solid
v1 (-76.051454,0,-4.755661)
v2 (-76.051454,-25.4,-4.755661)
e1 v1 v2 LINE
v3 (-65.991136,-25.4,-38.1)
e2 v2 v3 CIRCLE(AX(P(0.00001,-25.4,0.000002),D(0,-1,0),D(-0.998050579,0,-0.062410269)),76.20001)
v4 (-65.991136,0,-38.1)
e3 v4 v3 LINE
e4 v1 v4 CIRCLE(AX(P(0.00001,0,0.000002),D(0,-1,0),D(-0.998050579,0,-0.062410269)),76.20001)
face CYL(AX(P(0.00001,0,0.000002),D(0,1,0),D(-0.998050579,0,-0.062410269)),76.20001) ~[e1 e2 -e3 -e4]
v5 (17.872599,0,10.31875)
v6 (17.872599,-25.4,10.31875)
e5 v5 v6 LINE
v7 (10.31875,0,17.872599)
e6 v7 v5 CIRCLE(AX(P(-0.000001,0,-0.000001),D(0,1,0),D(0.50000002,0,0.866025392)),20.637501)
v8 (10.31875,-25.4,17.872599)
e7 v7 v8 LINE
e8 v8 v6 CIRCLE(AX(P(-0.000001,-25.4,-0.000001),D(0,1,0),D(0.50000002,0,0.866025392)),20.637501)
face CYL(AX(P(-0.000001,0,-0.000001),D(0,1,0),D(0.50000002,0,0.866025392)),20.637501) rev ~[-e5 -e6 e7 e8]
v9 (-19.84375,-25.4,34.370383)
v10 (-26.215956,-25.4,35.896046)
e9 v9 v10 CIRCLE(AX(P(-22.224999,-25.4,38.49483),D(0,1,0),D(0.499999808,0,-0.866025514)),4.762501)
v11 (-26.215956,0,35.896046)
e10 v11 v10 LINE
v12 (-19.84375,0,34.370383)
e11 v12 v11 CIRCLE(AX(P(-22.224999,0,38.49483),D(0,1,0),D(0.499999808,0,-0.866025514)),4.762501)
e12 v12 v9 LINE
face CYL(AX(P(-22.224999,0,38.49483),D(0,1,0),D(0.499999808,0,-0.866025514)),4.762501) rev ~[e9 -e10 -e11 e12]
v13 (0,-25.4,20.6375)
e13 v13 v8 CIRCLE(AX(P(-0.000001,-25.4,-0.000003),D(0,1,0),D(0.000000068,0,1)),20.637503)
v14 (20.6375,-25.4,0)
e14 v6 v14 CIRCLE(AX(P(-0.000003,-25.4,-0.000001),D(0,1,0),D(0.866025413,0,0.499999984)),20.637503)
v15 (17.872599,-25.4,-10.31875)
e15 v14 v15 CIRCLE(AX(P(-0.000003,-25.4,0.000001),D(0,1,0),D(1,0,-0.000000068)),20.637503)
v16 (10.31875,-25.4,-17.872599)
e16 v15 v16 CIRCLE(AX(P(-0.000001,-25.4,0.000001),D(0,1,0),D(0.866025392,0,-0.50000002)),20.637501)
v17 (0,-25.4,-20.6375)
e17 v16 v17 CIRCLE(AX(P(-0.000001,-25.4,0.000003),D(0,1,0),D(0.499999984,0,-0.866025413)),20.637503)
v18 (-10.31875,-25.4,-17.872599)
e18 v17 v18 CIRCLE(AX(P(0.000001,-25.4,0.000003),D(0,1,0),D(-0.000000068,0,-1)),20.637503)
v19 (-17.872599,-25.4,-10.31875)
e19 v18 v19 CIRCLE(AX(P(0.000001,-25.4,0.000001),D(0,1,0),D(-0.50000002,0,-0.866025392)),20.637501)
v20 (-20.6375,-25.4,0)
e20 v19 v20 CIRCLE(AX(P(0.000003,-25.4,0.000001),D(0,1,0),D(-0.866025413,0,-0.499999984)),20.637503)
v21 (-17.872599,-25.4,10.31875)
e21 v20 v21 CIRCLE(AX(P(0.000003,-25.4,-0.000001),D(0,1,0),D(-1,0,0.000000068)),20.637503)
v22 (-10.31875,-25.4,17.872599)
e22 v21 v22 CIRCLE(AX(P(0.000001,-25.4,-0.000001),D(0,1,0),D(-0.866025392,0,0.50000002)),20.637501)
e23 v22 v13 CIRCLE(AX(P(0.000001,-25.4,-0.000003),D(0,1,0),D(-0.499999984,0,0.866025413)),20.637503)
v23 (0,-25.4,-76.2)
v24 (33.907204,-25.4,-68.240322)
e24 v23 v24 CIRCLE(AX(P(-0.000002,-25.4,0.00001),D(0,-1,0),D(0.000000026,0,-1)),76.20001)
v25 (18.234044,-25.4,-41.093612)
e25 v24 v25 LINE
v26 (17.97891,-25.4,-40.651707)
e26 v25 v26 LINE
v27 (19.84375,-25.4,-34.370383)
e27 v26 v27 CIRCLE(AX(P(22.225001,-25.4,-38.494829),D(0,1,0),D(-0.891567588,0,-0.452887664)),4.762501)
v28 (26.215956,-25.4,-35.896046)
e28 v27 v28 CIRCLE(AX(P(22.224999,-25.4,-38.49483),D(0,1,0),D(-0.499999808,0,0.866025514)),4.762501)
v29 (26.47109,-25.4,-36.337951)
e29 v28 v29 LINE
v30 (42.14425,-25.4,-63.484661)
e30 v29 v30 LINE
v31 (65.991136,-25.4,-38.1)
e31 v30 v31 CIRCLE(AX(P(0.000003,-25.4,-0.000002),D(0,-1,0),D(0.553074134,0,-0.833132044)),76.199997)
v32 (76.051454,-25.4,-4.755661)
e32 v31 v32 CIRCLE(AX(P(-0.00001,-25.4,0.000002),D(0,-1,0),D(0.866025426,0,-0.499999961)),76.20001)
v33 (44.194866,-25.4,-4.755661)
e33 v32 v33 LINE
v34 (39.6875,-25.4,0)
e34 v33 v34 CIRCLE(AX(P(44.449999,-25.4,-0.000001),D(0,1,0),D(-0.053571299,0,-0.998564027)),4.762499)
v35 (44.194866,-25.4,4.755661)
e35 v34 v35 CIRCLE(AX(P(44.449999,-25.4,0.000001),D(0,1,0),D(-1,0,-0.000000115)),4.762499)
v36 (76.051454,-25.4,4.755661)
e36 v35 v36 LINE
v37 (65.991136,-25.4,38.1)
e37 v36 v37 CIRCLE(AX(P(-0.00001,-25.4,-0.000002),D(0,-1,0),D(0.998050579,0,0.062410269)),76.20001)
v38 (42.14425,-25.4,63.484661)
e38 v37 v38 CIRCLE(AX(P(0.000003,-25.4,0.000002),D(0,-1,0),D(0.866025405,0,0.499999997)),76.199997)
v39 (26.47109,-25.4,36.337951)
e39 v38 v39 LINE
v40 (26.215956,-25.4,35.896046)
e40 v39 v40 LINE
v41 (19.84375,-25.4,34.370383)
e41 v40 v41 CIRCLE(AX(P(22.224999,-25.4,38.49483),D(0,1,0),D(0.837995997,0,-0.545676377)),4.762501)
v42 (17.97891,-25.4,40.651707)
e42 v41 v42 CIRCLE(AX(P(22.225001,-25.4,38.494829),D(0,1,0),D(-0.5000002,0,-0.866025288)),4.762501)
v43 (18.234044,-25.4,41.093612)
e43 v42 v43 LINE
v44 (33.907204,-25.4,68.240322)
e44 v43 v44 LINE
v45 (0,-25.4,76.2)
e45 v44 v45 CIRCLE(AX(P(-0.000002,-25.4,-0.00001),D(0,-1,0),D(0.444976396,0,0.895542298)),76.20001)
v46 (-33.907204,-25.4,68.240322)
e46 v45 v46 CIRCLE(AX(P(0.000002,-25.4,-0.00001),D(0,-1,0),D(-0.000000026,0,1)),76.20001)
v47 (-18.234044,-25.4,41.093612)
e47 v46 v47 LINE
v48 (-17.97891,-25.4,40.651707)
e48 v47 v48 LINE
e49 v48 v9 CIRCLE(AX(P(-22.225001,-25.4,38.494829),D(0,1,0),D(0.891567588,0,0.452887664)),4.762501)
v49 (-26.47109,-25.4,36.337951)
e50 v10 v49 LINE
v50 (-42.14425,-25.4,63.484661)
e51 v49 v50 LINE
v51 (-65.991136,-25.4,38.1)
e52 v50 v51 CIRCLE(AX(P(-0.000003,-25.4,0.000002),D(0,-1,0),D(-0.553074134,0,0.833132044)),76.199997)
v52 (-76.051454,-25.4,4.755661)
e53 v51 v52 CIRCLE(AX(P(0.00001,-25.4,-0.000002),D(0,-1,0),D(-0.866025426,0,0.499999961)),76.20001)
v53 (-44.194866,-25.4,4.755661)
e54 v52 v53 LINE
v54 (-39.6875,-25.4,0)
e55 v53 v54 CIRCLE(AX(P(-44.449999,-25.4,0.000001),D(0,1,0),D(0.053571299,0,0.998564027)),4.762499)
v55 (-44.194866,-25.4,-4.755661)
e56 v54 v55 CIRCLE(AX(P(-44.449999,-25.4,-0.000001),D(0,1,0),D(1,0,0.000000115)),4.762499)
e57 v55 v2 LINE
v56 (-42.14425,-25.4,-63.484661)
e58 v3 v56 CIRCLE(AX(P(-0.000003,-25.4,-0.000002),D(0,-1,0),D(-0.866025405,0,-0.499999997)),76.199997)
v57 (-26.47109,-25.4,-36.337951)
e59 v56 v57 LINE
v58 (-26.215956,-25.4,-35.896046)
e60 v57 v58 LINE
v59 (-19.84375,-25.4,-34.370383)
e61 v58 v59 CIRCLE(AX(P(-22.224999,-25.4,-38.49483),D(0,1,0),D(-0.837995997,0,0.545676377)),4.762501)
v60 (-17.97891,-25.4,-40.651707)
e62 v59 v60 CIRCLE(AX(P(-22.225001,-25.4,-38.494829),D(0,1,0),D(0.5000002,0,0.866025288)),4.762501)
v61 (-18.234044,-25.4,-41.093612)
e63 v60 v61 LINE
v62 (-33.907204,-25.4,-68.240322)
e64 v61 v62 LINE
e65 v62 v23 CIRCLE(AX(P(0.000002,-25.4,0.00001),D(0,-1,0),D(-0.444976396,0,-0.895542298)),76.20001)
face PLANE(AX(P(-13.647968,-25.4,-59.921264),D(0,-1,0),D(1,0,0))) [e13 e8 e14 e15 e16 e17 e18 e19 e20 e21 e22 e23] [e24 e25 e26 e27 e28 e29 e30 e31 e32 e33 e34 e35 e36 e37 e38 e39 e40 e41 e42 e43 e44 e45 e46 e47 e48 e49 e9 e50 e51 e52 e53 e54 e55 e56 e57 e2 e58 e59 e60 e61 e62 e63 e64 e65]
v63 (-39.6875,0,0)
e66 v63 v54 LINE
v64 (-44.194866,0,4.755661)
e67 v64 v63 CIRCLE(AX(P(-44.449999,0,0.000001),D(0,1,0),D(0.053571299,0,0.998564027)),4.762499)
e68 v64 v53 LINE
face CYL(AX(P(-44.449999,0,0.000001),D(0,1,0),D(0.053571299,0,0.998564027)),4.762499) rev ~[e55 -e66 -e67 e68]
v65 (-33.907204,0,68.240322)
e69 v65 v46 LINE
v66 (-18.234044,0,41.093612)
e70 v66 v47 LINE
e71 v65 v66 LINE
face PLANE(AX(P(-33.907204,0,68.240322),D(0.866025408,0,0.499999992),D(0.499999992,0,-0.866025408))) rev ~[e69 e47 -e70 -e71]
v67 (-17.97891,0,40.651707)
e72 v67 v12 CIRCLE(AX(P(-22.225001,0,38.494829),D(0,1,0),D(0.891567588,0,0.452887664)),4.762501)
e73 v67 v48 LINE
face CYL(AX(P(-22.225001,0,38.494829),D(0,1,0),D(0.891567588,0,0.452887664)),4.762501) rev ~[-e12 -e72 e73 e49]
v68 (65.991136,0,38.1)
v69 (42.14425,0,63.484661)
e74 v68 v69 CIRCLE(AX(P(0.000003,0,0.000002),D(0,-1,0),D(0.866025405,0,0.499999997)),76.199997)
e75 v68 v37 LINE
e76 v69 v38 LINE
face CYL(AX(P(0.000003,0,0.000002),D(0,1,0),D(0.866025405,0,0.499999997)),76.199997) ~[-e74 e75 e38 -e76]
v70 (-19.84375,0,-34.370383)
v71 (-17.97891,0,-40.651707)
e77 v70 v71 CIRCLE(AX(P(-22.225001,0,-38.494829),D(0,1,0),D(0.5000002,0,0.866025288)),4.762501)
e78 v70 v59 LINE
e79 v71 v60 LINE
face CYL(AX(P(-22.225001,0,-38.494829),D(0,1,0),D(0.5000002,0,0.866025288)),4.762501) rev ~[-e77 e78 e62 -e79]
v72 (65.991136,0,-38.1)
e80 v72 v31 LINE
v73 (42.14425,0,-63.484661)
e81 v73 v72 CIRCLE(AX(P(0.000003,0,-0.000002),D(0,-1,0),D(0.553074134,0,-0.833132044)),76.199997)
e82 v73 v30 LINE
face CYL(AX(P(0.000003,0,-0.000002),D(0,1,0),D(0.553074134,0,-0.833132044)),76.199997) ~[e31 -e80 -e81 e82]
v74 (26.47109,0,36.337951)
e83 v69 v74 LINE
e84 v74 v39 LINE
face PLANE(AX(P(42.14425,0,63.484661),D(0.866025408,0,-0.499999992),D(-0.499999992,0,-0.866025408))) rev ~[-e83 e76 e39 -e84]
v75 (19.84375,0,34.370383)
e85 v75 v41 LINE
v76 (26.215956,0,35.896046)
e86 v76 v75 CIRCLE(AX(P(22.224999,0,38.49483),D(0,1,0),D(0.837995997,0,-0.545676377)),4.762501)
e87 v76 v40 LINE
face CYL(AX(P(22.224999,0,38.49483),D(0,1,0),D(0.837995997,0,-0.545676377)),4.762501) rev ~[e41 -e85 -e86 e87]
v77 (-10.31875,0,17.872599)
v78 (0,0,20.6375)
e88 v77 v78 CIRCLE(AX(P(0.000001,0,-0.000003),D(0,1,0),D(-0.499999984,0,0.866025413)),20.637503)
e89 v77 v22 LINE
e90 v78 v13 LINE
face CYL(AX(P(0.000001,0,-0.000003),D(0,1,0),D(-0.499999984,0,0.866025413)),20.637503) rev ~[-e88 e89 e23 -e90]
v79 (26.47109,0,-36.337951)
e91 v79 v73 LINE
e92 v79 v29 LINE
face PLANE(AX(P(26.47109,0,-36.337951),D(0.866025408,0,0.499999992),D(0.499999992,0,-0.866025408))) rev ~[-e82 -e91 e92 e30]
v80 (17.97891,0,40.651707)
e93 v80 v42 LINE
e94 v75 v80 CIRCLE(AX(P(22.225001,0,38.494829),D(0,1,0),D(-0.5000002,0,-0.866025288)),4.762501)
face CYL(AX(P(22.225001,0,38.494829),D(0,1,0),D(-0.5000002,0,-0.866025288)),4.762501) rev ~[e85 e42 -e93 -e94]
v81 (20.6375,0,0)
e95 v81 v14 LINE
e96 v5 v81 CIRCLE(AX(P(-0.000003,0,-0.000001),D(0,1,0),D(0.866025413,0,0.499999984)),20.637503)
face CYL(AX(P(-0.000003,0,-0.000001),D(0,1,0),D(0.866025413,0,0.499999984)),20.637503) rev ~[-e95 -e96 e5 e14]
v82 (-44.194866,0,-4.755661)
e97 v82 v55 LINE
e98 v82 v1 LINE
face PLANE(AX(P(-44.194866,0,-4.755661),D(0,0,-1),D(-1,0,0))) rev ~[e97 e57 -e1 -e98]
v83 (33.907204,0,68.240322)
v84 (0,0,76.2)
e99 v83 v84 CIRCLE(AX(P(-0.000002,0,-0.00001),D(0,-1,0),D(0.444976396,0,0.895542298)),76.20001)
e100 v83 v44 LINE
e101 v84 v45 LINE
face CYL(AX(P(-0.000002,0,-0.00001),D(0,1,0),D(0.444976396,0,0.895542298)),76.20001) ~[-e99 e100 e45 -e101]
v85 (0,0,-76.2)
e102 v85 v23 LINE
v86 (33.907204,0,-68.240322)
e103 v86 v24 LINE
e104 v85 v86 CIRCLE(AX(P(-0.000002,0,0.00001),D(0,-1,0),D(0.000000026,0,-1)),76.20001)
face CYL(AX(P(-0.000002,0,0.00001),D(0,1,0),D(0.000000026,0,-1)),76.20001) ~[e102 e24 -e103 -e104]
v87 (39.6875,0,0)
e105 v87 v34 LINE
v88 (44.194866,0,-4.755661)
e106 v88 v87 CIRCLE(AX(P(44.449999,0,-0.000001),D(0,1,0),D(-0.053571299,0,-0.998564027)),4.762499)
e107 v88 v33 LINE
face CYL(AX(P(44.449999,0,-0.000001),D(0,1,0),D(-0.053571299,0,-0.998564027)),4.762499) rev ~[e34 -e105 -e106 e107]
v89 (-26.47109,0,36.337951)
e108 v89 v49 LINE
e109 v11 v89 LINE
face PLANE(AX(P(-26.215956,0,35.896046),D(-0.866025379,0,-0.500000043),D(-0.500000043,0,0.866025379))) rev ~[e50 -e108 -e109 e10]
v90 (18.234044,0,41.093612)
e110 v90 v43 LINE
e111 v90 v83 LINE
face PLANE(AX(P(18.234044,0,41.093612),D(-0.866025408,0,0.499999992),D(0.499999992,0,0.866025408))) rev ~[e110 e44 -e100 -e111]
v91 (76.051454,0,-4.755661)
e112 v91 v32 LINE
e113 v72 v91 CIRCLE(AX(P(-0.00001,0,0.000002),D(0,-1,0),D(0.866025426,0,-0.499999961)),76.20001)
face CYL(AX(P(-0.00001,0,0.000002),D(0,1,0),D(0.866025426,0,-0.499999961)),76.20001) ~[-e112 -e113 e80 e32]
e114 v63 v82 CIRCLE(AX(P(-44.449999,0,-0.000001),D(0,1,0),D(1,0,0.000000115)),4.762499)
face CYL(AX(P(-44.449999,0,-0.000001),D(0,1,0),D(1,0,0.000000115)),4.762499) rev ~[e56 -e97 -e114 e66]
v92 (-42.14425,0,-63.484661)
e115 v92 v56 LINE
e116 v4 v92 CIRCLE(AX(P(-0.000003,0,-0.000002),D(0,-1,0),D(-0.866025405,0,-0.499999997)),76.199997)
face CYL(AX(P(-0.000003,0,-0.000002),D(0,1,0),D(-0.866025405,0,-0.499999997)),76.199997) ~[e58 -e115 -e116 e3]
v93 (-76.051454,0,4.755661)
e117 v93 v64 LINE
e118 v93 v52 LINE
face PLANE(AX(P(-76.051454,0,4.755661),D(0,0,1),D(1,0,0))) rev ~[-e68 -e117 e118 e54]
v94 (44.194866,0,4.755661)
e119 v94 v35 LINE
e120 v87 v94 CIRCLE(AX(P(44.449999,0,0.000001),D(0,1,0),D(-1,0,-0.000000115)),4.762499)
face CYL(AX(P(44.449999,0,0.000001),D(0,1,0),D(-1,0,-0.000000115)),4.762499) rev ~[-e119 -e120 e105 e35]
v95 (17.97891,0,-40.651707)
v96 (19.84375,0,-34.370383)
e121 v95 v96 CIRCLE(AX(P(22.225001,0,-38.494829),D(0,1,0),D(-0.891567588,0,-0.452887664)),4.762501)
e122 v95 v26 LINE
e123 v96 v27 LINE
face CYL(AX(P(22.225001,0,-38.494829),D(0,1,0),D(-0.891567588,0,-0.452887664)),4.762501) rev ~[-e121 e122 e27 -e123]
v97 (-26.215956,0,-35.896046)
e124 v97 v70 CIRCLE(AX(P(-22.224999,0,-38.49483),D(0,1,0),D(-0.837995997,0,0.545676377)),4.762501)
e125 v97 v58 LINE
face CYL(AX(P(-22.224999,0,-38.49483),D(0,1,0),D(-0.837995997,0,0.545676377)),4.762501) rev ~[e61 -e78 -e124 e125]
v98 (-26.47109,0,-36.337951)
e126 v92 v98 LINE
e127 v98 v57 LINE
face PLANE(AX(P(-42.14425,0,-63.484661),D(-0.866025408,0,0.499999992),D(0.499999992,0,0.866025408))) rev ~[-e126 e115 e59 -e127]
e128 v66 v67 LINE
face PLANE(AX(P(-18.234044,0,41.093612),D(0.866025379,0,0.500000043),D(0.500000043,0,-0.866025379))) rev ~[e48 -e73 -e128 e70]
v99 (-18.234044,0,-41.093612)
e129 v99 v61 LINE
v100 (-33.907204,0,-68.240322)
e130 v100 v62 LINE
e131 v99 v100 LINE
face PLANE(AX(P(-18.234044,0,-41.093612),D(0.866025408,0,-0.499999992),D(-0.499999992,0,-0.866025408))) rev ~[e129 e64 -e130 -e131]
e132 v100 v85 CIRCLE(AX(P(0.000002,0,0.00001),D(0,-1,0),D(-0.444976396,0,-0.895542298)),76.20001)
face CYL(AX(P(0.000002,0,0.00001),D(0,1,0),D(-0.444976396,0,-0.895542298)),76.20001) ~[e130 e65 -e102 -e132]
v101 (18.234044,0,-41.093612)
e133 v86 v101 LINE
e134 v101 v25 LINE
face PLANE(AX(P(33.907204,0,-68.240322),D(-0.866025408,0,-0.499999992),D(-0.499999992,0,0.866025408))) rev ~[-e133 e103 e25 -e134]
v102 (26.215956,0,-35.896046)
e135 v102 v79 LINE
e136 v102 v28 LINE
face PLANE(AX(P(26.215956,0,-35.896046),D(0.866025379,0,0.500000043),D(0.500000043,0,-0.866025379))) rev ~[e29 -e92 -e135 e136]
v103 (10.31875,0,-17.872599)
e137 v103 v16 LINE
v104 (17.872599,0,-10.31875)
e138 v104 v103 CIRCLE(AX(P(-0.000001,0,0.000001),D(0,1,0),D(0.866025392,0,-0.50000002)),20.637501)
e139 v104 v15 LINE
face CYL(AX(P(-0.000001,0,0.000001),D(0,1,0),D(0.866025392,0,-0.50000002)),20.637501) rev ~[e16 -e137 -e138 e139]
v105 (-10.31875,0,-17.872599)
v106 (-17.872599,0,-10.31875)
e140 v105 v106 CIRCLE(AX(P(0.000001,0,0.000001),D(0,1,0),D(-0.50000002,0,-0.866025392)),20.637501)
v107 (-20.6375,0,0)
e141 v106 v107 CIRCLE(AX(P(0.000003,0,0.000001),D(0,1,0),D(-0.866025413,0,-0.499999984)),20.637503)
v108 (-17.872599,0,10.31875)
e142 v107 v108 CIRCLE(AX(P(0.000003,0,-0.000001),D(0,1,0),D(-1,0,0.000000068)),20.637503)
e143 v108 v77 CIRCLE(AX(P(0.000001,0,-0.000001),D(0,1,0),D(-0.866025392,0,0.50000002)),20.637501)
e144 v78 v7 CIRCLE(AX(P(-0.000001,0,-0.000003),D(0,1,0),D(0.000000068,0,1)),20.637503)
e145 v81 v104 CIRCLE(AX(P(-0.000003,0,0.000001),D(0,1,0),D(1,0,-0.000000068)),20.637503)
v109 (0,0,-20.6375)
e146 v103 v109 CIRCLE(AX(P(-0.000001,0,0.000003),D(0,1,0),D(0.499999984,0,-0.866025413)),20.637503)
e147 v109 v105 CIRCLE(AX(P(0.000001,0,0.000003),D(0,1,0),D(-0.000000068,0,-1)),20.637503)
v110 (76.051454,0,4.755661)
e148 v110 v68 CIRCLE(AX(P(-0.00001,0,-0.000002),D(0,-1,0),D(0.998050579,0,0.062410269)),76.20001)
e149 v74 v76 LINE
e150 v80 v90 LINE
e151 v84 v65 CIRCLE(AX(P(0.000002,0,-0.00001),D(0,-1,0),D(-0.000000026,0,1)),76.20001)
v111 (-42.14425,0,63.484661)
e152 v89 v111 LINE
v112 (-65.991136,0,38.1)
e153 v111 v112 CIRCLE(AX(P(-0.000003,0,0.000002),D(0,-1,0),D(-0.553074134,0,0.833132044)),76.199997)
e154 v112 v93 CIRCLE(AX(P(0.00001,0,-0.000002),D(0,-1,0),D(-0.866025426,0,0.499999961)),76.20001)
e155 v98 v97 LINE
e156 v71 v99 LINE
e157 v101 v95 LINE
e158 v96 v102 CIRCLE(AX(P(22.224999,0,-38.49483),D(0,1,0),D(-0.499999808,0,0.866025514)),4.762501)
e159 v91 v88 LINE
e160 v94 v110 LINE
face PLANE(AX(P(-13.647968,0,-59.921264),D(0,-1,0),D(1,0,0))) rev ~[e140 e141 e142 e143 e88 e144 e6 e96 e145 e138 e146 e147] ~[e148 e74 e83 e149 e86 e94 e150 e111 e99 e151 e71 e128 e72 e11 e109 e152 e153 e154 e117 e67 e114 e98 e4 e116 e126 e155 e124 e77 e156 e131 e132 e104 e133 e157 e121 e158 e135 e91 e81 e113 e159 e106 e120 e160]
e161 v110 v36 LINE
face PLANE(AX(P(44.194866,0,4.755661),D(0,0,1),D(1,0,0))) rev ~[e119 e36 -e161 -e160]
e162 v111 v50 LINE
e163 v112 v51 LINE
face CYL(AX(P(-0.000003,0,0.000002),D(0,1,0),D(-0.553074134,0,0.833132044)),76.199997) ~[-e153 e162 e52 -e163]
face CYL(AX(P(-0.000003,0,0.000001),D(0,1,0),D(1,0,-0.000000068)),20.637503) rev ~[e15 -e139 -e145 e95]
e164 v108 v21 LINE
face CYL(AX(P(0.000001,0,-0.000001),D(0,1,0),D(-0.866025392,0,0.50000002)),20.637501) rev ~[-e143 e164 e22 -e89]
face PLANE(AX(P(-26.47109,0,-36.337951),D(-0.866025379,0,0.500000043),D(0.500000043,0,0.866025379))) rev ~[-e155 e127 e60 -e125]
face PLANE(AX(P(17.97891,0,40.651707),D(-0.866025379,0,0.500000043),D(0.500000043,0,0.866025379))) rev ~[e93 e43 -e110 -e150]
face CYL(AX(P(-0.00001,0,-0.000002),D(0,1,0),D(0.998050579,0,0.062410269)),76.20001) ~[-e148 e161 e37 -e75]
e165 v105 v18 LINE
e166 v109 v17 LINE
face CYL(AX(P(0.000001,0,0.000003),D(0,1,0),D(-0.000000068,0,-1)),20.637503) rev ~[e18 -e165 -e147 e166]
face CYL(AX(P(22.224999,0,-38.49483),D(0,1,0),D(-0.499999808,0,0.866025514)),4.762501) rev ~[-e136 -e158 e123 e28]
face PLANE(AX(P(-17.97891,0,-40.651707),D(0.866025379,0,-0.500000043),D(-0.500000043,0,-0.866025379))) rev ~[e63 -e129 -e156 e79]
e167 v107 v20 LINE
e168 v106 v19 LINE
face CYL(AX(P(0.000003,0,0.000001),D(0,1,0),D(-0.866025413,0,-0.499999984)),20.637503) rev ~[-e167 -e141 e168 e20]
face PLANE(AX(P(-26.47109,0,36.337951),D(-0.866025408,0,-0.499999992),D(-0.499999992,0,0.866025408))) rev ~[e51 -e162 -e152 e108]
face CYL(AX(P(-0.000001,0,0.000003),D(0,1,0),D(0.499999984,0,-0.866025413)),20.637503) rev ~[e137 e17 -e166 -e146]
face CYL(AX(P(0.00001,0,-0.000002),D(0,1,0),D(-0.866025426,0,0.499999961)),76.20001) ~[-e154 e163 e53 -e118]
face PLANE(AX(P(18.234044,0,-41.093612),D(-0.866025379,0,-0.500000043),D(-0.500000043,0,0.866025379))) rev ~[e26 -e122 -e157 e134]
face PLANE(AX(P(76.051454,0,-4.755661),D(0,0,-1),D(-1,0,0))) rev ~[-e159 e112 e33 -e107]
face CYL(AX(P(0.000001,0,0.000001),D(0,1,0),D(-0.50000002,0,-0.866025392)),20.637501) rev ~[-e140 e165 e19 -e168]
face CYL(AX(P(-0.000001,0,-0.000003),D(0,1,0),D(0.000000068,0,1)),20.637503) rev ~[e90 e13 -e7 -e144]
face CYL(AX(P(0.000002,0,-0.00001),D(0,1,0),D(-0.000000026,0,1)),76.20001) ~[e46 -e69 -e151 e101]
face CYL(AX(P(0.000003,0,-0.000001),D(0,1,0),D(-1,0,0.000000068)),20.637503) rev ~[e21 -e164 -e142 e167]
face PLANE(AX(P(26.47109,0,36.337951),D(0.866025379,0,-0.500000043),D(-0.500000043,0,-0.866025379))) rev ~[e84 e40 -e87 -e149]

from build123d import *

# Parameters (mm, degrees)
F1_DEPTH = 25.4


with BuildPart() as f1:
    # F0 (on Front) → F1 (new body)
    with BuildSketch(Plane.XZ):
        with BuildLine():
            Line((-18.234044, -41.093612), (-33.907204, -68.240322))
            ThreePointArc((-33.907204, -68.240322), (-17.414469, -74.183396), (0, -76.2))
            Line((0, -76.2), (0, -44.45))
            ThreePointArc((0, -44.45), (-9.187875, -43.490061), (-17.97891, -40.651707))
            ThreePointArc((-17.97891, -40.651707), (-18.100554, -40.876079), (-18.234044, -41.093612))
        make_face()
        with BuildLine():
            Line((0, -44.45), (0, -76.2))
            ThreePointArc((0, -76.2), (17.414469, -74.183396), (33.907204, -68.240322))
            Line((33.907204, -68.240322), (18.234044, -41.093612))
            ThreePointArc((18.234044, -41.093612), (18.100554, -40.876079), (17.97891, -40.651707))
            ThreePointArc((17.97891, -40.651707), (9.187875, -43.490061), (0, -44.45))
        make_face()
        with BuildLine():
            Line((-17.97891, -40.651707), (-18.234044, -41.093612))
            ThreePointArc((-18.234044, -41.093612), (-18.100554, -40.876079), (-17.97891, -40.651707))
        make_face()
        with BuildLine():
            Line((0, -20.6375), (0, -44.45))
            ThreePointArc((0, -44.45), (9.187875, -43.490061), (17.97891, -40.651707))
            ThreePointArc((17.97891, -40.651707), (17.659459, -37.139382), (19.84375, -34.370383))
            Line((19.84375, -34.370383), (10.31875, -17.872599))
            ThreePointArc((10.31875, -17.872599), (5.341378, -19.934294), (0, -20.6375))
        make_face()
        with BuildLine():
            ThreePointArc((-17.97891, -40.651707), (-9.187875, -43.490061), (0, -44.45))
            Line((0, -44.45), (0, -20.6375))
            ThreePointArc((0, -20.6375), (-5.341378, -19.934294), (-10.31875, -17.872599))
            Line((-10.31875, -17.872599), (-19.84375, -34.370383))
            ThreePointArc((-19.84375, -34.370383), (-17.659459, -37.139382), (-17.97891, -40.651707))
        make_face()
        with BuildLine():
            ThreePointArc((17.97891, -40.651707), (18.100554, -40.876079), (18.234044, -41.093612))
            Line((18.234044, -41.093612), (17.97891, -40.651707))
        make_face()
        with BuildLine():
            ThreePointArc((-26.215956, -35.896046), (-23.333919, -33.863231), (-19.84375, -34.370383))
            Line((-19.84375, -34.370383), (-10.31875, -17.872599))
            ThreePointArc((-10.31875, -17.872599), (-14.592916, -14.592916), (-17.872599, -10.31875))
            Line((-17.872599, -10.31875), (-38.494829, -22.225))
            ThreePointArc((-38.494829, -22.225), (-33.06956, -29.701964), (-26.215956, -35.896046))
        make_face()
        with BuildLine():
            Line((10.31875, -17.872599), (19.84375, -34.370383))
            ThreePointArc((19.84375, -34.370383), (23.333919, -33.863231), (26.215956, -35.896046))
            ThreePointArc((26.215956, -35.896046), (33.06956, -29.701964), (38.494829, -22.225))
            Line((38.494829, -22.225), (17.872599, -10.31875))
            ThreePointArc((17.872599, -10.31875), (14.592916, -14.592916), (10.31875, -17.872599))
        make_face()
        with BuildLine():
            Line((-26.47109, -36.337951), (-26.215956, -35.896046))
            ThreePointArc((-26.215956, -35.896046), (-26.349446, -36.113579), (-26.47109, -36.337951))
        make_face()
        with BuildLine():
            ThreePointArc((-26.47109, -36.337951), (-26.349446, -36.113579), (-26.215956, -35.896046))
            ThreePointArc((-26.215956, -35.896046), (-33.06956, -29.701964), (-38.494829, -22.225))
            Line((-38.494829, -22.225), (-65.991136, -38.1))
            ThreePointArc((-65.991136, -38.1), (-55.537471, -52.173071), (-42.14425, -63.484661))
            Line((-42.14425, -63.484661), (-26.47109, -36.337951))
        make_face()
        with BuildLine():
            ThreePointArc((38.494829, -22.225), (33.06956, -29.701964), (26.215956, -35.896046))
            ThreePointArc((26.215956, -35.896046), (26.349446, -36.113579), (26.47109, -36.337951))
            Line((26.47109, -36.337951), (42.14425, -63.484661))
            ThreePointArc((42.14425, -63.484661), (55.537471, -52.173071), (65.991136, -38.1))
            Line((65.991136, -38.1), (38.494829, -22.225))
        make_face()
        with BuildLine():
            ThreePointArc((26.47109, -36.337951), (26.349446, -36.113579), (26.215956, -35.896046))
            Line((26.215956, -35.896046), (26.47109, -36.337951))
        make_face()
        with BuildLine():
            Line((-38.494829, -22.225), (-17.872599, -10.31875))
            ThreePointArc((-17.872599, -10.31875), (-19.934294, -5.341378), (-20.6375, 0))
            Line((-20.6375, 0), (-39.6875, 0))
            ThreePointArc((-39.6875, 0), (-40.993377, -3.276151), (-44.194866, -4.755661))
            ThreePointArc((-44.194866, -4.755661), (-42.257436, -13.788097), (-38.494829, -22.225))
        make_face()
        with BuildLine():
            ThreePointArc((20.6375, 0), (19.934294, -5.341378), (17.872599, -10.31875))
            Line((17.872599, -10.31875), (38.494829, -22.225))
            ThreePointArc((38.494829, -22.225), (42.257436, -13.788097), (44.194866, -4.755661))
            ThreePointArc((44.194866, -4.755661), (40.993377, -3.276151), (39.6875, 0))
            Line((39.6875, 0), (20.6375, 0))
        make_face()
        with BuildLine():
            Line((0, 44.45), (0, 20.6375))
            ThreePointArc((0, 20.6375), (5.341378, 19.934294), (10.31875, 17.872599))
            Line((10.31875, 17.872599), (19.84375, 34.370383))
            ThreePointArc((19.84375, 34.370383), (17.659459, 37.139382), (17.97891, 40.651707))
            ThreePointArc((17.97891, 40.651707), (9.187875, 43.490061), (0, 44.45))
        make_face()
        with BuildLine():
            ThreePointArc((-10.31875, 17.872599), (-5.341378, 19.934294), (0, 20.6375))
            Line((0, 20.6375), (0, 44.45))
            ThreePointArc((0, 44.45), (-9.187875, 43.490061), (-17.97891, 40.651707))
            ThreePointArc((-17.97891, 40.651707), (-17.659459, 37.139382), (-19.84375, 34.370383))
            Line((-19.84375, 34.370383), (-10.31875, 17.872599))
        make_face()
        with BuildLine():
            ThreePointArc((17.872599, 10.31875), (19.934294, 5.341378), (20.6375, 0))
            Line((20.6375, 0), (39.6875, 0))
            ThreePointArc((39.6875, 0), (40.993377, 3.276151), (44.194866, 4.755661))
            ThreePointArc((44.194866, 4.755661), (42.257436, 13.788097), (38.494829, 22.225))
            Line((38.494829, 22.225), (17.872599, 10.31875))
        make_face()
        with BuildLine():
            Line((-39.6875, 0), (-20.6375, 0))
            ThreePointArc((-20.6375, 0), (-19.934294, 5.341378), (-17.872599, 10.31875))
            Line((-17.872599, 10.31875), (-38.494829, 22.225))
            ThreePointArc((-38.494829, 22.225), (-42.257436, 13.788097), (-44.194866, 4.755661))
            ThreePointArc((-44.194866, 4.755661), (-40.993377, 3.276151), (-39.6875, 0))
        make_face()
        with BuildLine():
            ThreePointArc((-17.872599, 10.31875), (-14.592916, 14.592916), (-10.31875, 17.872599))
            Line((-10.31875, 17.872599), (-19.84375, 34.370383))
            ThreePointArc((-19.84375, 34.370383), (-23.333919, 33.863231), (-26.215956, 35.896046))
            ThreePointArc((-26.215956, 35.896046), (-33.06956, 29.701964), (-38.494829, 22.225))
            Line((-38.494829, 22.225), (-17.872599, 10.31875))
        make_face()
        with BuildLine():
            Line((19.84375, 34.370383), (10.31875, 17.872599))
            ThreePointArc((10.31875, 17.872599), (14.592916, 14.592916), (17.872599, 10.31875))
            Line((17.872599, 10.31875), (38.494829, 22.225))
            ThreePointArc((38.494829, 22.225), (33.06956, 29.701964), (26.215956, 35.896046))
            ThreePointArc((26.215956, 35.896046), (23.333919, 33.863231), (19.84375, 34.370383))
        make_face()
        with BuildLine():
            Line((-65.991136, -38.1), (-38.494829, -22.225))
            ThreePointArc((-38.494829, -22.225), (-42.257436, -13.788097), (-44.194866, -4.755661))
            ThreePointArc((-44.194866, -4.755661), (-44.45, -4.7625), (-44.705134, -4.755661))
            Line((-44.705134, -4.755661), (-76.051454, -4.755661))
            ThreePointArc((-76.051454, -4.755661), (-72.95194, -22.010325), (-65.991136, -38.1))
        make_face()
        with BuildLine():
            ThreePointArc((44.194866, -4.755661), (42.257436, -13.788097), (38.494829, -22.225))
            Line((38.494829, -22.225), (65.991136, -38.1))
            ThreePointArc((65.991136, -38.1), (72.95194, -22.010325), (76.051454, -4.755661))
            Line((76.051454, -4.755661), (44.705134, -4.755661))
            ThreePointArc((44.705134, -4.755661), (44.45, -4.7625), (44.194866, -4.755661))
        make_face()
        with BuildLine():
            ThreePointArc((-17.97891, 40.651707), (-9.187875, 43.490061), (0, 44.45))
            Line((0, 44.45), (0, 76.2))
            ThreePointArc((0, 76.2), (-17.414469, 74.183396), (-33.907204, 68.240322))
            Line((-33.907204, 68.240322), (-18.234044, 41.093612))
            ThreePointArc((-18.234044, 41.093612), (-18.100554, 40.876079), (-17.97891, 40.651707))
        make_face()
        with BuildLine():
            Line((0, 76.2), (0, 44.45))
            ThreePointArc((0, 44.45), (9.187875, 43.490061), (17.97891, 40.651707))
            ThreePointArc((17.97891, 40.651707), (18.100554, 40.876079), (18.234044, 41.093612))
            Line((18.234044, 41.093612), (33.907204, 68.240322))
            ThreePointArc((33.907204, 68.240322), (17.414469, 74.183396), (0, 76.2))
        make_face()
        with BuildLine():
            ThreePointArc((-44.194866, 4.755661), (-42.257436, 13.788097), (-38.494829, 22.225))
            Line((-38.494829, 22.225), (-65.991136, 38.1))
            ThreePointArc((-65.991136, 38.1), (-72.95194, 22.010325), (-76.051454, 4.755661))
            Line((-76.051454, 4.755661), (-44.705134, 4.755661))
            ThreePointArc((-44.705134, 4.755661), (-44.45, 4.7625), (-44.194866, 4.755661))
        make_face()
        with BuildLine():
            Line((-65.991136, 38.1), (-38.494829, 22.225))
            ThreePointArc((-38.494829, 22.225), (-33.06956, 29.701964), (-26.215956, 35.896046))
            ThreePointArc((-26.215956, 35.896046), (-26.349446, 36.113579), (-26.47109, 36.337951))
            Line((-26.47109, 36.337951), (-42.14425, 63.484661))
            ThreePointArc((-42.14425, 63.484661), (-55.537471, 52.173071), (-65.991136, 38.1))
        make_face()
        with BuildLine():
            ThreePointArc((26.215956, 35.896046), (33.06956, 29.701964), (38.494829, 22.225))
            Line((38.494829, 22.225), (65.991136, 38.1))
            ThreePointArc((65.991136, 38.1), (55.537471, 52.173071), (42.14425, 63.484661))
            Line((42.14425, 63.484661), (26.47109, 36.337951))
            ThreePointArc((26.47109, 36.337951), (26.349446, 36.113579), (26.215956, 35.896046))
        make_face()
        with BuildLine():
            Line((65.991136, 38.1), (38.494829, 22.225))
            ThreePointArc((38.494829, 22.225), (42.257436, 13.788097), (44.194866, 4.755661))
            ThreePointArc((44.194866, 4.755661), (44.45, 4.7625), (44.705134, 4.755661))
            Line((44.705134, 4.755661), (76.051454, 4.755661))
            ThreePointArc((76.051454, 4.755661), (72.95194, 22.010325), (65.991136, 38.1))
        make_face()
        with BuildLine():
            ThreePointArc((-44.705134, -4.755661), (-44.45, -4.7625), (-44.194866, -4.755661))
            Line((-44.194866, -4.755661), (-44.705134, -4.755661))
        make_face()
        with BuildLine():
            Line((44.705134, -4.755661), (44.194866, -4.755661))
            ThreePointArc((44.194866, -4.755661), (44.45, -4.7625), (44.705134, -4.755661))
        make_face()
        with BuildLine():
            ThreePointArc((18.234044, 41.093612), (18.100554, 40.876079), (17.97891, 40.651707))
            Line((17.97891, 40.651707), (18.234044, 41.093612))
        make_face()
        with BuildLine():
            Line((-18.234044, 41.093612), (-17.97891, 40.651707))
            ThreePointArc((-17.97891, 40.651707), (-18.100554, 40.876079), (-18.234044, 41.093612))
        make_face()
        with BuildLine():
            ThreePointArc((44.705134, 4.755661), (44.45, 4.7625), (44.194866, 4.755661))
            Line((44.194866, 4.755661), (44.705134, 4.755661))
        make_face()
        with BuildLine():
            Line((-44.705134, 4.755661), (-44.194866, 4.755661))
            ThreePointArc((-44.194866, 4.755661), (-44.45, 4.7625), (-44.705134, 4.755661))
        make_face()
        with BuildLine():
            ThreePointArc((-26.47109, 36.337951), (-26.349446, 36.113579), (-26.215956, 35.896046))
            Line((-26.215956, 35.896046), (-26.47109, 36.337951))
        make_face()
        with BuildLine():
            Line((26.47109, 36.337951), (26.215956, 35.896046))
            ThreePointArc((26.215956, 35.896046), (26.349446, 36.113579), (26.47109, 36.337951))
        make_face()
    extrude(amount=F1_DEPTH)


solid = f1.part
